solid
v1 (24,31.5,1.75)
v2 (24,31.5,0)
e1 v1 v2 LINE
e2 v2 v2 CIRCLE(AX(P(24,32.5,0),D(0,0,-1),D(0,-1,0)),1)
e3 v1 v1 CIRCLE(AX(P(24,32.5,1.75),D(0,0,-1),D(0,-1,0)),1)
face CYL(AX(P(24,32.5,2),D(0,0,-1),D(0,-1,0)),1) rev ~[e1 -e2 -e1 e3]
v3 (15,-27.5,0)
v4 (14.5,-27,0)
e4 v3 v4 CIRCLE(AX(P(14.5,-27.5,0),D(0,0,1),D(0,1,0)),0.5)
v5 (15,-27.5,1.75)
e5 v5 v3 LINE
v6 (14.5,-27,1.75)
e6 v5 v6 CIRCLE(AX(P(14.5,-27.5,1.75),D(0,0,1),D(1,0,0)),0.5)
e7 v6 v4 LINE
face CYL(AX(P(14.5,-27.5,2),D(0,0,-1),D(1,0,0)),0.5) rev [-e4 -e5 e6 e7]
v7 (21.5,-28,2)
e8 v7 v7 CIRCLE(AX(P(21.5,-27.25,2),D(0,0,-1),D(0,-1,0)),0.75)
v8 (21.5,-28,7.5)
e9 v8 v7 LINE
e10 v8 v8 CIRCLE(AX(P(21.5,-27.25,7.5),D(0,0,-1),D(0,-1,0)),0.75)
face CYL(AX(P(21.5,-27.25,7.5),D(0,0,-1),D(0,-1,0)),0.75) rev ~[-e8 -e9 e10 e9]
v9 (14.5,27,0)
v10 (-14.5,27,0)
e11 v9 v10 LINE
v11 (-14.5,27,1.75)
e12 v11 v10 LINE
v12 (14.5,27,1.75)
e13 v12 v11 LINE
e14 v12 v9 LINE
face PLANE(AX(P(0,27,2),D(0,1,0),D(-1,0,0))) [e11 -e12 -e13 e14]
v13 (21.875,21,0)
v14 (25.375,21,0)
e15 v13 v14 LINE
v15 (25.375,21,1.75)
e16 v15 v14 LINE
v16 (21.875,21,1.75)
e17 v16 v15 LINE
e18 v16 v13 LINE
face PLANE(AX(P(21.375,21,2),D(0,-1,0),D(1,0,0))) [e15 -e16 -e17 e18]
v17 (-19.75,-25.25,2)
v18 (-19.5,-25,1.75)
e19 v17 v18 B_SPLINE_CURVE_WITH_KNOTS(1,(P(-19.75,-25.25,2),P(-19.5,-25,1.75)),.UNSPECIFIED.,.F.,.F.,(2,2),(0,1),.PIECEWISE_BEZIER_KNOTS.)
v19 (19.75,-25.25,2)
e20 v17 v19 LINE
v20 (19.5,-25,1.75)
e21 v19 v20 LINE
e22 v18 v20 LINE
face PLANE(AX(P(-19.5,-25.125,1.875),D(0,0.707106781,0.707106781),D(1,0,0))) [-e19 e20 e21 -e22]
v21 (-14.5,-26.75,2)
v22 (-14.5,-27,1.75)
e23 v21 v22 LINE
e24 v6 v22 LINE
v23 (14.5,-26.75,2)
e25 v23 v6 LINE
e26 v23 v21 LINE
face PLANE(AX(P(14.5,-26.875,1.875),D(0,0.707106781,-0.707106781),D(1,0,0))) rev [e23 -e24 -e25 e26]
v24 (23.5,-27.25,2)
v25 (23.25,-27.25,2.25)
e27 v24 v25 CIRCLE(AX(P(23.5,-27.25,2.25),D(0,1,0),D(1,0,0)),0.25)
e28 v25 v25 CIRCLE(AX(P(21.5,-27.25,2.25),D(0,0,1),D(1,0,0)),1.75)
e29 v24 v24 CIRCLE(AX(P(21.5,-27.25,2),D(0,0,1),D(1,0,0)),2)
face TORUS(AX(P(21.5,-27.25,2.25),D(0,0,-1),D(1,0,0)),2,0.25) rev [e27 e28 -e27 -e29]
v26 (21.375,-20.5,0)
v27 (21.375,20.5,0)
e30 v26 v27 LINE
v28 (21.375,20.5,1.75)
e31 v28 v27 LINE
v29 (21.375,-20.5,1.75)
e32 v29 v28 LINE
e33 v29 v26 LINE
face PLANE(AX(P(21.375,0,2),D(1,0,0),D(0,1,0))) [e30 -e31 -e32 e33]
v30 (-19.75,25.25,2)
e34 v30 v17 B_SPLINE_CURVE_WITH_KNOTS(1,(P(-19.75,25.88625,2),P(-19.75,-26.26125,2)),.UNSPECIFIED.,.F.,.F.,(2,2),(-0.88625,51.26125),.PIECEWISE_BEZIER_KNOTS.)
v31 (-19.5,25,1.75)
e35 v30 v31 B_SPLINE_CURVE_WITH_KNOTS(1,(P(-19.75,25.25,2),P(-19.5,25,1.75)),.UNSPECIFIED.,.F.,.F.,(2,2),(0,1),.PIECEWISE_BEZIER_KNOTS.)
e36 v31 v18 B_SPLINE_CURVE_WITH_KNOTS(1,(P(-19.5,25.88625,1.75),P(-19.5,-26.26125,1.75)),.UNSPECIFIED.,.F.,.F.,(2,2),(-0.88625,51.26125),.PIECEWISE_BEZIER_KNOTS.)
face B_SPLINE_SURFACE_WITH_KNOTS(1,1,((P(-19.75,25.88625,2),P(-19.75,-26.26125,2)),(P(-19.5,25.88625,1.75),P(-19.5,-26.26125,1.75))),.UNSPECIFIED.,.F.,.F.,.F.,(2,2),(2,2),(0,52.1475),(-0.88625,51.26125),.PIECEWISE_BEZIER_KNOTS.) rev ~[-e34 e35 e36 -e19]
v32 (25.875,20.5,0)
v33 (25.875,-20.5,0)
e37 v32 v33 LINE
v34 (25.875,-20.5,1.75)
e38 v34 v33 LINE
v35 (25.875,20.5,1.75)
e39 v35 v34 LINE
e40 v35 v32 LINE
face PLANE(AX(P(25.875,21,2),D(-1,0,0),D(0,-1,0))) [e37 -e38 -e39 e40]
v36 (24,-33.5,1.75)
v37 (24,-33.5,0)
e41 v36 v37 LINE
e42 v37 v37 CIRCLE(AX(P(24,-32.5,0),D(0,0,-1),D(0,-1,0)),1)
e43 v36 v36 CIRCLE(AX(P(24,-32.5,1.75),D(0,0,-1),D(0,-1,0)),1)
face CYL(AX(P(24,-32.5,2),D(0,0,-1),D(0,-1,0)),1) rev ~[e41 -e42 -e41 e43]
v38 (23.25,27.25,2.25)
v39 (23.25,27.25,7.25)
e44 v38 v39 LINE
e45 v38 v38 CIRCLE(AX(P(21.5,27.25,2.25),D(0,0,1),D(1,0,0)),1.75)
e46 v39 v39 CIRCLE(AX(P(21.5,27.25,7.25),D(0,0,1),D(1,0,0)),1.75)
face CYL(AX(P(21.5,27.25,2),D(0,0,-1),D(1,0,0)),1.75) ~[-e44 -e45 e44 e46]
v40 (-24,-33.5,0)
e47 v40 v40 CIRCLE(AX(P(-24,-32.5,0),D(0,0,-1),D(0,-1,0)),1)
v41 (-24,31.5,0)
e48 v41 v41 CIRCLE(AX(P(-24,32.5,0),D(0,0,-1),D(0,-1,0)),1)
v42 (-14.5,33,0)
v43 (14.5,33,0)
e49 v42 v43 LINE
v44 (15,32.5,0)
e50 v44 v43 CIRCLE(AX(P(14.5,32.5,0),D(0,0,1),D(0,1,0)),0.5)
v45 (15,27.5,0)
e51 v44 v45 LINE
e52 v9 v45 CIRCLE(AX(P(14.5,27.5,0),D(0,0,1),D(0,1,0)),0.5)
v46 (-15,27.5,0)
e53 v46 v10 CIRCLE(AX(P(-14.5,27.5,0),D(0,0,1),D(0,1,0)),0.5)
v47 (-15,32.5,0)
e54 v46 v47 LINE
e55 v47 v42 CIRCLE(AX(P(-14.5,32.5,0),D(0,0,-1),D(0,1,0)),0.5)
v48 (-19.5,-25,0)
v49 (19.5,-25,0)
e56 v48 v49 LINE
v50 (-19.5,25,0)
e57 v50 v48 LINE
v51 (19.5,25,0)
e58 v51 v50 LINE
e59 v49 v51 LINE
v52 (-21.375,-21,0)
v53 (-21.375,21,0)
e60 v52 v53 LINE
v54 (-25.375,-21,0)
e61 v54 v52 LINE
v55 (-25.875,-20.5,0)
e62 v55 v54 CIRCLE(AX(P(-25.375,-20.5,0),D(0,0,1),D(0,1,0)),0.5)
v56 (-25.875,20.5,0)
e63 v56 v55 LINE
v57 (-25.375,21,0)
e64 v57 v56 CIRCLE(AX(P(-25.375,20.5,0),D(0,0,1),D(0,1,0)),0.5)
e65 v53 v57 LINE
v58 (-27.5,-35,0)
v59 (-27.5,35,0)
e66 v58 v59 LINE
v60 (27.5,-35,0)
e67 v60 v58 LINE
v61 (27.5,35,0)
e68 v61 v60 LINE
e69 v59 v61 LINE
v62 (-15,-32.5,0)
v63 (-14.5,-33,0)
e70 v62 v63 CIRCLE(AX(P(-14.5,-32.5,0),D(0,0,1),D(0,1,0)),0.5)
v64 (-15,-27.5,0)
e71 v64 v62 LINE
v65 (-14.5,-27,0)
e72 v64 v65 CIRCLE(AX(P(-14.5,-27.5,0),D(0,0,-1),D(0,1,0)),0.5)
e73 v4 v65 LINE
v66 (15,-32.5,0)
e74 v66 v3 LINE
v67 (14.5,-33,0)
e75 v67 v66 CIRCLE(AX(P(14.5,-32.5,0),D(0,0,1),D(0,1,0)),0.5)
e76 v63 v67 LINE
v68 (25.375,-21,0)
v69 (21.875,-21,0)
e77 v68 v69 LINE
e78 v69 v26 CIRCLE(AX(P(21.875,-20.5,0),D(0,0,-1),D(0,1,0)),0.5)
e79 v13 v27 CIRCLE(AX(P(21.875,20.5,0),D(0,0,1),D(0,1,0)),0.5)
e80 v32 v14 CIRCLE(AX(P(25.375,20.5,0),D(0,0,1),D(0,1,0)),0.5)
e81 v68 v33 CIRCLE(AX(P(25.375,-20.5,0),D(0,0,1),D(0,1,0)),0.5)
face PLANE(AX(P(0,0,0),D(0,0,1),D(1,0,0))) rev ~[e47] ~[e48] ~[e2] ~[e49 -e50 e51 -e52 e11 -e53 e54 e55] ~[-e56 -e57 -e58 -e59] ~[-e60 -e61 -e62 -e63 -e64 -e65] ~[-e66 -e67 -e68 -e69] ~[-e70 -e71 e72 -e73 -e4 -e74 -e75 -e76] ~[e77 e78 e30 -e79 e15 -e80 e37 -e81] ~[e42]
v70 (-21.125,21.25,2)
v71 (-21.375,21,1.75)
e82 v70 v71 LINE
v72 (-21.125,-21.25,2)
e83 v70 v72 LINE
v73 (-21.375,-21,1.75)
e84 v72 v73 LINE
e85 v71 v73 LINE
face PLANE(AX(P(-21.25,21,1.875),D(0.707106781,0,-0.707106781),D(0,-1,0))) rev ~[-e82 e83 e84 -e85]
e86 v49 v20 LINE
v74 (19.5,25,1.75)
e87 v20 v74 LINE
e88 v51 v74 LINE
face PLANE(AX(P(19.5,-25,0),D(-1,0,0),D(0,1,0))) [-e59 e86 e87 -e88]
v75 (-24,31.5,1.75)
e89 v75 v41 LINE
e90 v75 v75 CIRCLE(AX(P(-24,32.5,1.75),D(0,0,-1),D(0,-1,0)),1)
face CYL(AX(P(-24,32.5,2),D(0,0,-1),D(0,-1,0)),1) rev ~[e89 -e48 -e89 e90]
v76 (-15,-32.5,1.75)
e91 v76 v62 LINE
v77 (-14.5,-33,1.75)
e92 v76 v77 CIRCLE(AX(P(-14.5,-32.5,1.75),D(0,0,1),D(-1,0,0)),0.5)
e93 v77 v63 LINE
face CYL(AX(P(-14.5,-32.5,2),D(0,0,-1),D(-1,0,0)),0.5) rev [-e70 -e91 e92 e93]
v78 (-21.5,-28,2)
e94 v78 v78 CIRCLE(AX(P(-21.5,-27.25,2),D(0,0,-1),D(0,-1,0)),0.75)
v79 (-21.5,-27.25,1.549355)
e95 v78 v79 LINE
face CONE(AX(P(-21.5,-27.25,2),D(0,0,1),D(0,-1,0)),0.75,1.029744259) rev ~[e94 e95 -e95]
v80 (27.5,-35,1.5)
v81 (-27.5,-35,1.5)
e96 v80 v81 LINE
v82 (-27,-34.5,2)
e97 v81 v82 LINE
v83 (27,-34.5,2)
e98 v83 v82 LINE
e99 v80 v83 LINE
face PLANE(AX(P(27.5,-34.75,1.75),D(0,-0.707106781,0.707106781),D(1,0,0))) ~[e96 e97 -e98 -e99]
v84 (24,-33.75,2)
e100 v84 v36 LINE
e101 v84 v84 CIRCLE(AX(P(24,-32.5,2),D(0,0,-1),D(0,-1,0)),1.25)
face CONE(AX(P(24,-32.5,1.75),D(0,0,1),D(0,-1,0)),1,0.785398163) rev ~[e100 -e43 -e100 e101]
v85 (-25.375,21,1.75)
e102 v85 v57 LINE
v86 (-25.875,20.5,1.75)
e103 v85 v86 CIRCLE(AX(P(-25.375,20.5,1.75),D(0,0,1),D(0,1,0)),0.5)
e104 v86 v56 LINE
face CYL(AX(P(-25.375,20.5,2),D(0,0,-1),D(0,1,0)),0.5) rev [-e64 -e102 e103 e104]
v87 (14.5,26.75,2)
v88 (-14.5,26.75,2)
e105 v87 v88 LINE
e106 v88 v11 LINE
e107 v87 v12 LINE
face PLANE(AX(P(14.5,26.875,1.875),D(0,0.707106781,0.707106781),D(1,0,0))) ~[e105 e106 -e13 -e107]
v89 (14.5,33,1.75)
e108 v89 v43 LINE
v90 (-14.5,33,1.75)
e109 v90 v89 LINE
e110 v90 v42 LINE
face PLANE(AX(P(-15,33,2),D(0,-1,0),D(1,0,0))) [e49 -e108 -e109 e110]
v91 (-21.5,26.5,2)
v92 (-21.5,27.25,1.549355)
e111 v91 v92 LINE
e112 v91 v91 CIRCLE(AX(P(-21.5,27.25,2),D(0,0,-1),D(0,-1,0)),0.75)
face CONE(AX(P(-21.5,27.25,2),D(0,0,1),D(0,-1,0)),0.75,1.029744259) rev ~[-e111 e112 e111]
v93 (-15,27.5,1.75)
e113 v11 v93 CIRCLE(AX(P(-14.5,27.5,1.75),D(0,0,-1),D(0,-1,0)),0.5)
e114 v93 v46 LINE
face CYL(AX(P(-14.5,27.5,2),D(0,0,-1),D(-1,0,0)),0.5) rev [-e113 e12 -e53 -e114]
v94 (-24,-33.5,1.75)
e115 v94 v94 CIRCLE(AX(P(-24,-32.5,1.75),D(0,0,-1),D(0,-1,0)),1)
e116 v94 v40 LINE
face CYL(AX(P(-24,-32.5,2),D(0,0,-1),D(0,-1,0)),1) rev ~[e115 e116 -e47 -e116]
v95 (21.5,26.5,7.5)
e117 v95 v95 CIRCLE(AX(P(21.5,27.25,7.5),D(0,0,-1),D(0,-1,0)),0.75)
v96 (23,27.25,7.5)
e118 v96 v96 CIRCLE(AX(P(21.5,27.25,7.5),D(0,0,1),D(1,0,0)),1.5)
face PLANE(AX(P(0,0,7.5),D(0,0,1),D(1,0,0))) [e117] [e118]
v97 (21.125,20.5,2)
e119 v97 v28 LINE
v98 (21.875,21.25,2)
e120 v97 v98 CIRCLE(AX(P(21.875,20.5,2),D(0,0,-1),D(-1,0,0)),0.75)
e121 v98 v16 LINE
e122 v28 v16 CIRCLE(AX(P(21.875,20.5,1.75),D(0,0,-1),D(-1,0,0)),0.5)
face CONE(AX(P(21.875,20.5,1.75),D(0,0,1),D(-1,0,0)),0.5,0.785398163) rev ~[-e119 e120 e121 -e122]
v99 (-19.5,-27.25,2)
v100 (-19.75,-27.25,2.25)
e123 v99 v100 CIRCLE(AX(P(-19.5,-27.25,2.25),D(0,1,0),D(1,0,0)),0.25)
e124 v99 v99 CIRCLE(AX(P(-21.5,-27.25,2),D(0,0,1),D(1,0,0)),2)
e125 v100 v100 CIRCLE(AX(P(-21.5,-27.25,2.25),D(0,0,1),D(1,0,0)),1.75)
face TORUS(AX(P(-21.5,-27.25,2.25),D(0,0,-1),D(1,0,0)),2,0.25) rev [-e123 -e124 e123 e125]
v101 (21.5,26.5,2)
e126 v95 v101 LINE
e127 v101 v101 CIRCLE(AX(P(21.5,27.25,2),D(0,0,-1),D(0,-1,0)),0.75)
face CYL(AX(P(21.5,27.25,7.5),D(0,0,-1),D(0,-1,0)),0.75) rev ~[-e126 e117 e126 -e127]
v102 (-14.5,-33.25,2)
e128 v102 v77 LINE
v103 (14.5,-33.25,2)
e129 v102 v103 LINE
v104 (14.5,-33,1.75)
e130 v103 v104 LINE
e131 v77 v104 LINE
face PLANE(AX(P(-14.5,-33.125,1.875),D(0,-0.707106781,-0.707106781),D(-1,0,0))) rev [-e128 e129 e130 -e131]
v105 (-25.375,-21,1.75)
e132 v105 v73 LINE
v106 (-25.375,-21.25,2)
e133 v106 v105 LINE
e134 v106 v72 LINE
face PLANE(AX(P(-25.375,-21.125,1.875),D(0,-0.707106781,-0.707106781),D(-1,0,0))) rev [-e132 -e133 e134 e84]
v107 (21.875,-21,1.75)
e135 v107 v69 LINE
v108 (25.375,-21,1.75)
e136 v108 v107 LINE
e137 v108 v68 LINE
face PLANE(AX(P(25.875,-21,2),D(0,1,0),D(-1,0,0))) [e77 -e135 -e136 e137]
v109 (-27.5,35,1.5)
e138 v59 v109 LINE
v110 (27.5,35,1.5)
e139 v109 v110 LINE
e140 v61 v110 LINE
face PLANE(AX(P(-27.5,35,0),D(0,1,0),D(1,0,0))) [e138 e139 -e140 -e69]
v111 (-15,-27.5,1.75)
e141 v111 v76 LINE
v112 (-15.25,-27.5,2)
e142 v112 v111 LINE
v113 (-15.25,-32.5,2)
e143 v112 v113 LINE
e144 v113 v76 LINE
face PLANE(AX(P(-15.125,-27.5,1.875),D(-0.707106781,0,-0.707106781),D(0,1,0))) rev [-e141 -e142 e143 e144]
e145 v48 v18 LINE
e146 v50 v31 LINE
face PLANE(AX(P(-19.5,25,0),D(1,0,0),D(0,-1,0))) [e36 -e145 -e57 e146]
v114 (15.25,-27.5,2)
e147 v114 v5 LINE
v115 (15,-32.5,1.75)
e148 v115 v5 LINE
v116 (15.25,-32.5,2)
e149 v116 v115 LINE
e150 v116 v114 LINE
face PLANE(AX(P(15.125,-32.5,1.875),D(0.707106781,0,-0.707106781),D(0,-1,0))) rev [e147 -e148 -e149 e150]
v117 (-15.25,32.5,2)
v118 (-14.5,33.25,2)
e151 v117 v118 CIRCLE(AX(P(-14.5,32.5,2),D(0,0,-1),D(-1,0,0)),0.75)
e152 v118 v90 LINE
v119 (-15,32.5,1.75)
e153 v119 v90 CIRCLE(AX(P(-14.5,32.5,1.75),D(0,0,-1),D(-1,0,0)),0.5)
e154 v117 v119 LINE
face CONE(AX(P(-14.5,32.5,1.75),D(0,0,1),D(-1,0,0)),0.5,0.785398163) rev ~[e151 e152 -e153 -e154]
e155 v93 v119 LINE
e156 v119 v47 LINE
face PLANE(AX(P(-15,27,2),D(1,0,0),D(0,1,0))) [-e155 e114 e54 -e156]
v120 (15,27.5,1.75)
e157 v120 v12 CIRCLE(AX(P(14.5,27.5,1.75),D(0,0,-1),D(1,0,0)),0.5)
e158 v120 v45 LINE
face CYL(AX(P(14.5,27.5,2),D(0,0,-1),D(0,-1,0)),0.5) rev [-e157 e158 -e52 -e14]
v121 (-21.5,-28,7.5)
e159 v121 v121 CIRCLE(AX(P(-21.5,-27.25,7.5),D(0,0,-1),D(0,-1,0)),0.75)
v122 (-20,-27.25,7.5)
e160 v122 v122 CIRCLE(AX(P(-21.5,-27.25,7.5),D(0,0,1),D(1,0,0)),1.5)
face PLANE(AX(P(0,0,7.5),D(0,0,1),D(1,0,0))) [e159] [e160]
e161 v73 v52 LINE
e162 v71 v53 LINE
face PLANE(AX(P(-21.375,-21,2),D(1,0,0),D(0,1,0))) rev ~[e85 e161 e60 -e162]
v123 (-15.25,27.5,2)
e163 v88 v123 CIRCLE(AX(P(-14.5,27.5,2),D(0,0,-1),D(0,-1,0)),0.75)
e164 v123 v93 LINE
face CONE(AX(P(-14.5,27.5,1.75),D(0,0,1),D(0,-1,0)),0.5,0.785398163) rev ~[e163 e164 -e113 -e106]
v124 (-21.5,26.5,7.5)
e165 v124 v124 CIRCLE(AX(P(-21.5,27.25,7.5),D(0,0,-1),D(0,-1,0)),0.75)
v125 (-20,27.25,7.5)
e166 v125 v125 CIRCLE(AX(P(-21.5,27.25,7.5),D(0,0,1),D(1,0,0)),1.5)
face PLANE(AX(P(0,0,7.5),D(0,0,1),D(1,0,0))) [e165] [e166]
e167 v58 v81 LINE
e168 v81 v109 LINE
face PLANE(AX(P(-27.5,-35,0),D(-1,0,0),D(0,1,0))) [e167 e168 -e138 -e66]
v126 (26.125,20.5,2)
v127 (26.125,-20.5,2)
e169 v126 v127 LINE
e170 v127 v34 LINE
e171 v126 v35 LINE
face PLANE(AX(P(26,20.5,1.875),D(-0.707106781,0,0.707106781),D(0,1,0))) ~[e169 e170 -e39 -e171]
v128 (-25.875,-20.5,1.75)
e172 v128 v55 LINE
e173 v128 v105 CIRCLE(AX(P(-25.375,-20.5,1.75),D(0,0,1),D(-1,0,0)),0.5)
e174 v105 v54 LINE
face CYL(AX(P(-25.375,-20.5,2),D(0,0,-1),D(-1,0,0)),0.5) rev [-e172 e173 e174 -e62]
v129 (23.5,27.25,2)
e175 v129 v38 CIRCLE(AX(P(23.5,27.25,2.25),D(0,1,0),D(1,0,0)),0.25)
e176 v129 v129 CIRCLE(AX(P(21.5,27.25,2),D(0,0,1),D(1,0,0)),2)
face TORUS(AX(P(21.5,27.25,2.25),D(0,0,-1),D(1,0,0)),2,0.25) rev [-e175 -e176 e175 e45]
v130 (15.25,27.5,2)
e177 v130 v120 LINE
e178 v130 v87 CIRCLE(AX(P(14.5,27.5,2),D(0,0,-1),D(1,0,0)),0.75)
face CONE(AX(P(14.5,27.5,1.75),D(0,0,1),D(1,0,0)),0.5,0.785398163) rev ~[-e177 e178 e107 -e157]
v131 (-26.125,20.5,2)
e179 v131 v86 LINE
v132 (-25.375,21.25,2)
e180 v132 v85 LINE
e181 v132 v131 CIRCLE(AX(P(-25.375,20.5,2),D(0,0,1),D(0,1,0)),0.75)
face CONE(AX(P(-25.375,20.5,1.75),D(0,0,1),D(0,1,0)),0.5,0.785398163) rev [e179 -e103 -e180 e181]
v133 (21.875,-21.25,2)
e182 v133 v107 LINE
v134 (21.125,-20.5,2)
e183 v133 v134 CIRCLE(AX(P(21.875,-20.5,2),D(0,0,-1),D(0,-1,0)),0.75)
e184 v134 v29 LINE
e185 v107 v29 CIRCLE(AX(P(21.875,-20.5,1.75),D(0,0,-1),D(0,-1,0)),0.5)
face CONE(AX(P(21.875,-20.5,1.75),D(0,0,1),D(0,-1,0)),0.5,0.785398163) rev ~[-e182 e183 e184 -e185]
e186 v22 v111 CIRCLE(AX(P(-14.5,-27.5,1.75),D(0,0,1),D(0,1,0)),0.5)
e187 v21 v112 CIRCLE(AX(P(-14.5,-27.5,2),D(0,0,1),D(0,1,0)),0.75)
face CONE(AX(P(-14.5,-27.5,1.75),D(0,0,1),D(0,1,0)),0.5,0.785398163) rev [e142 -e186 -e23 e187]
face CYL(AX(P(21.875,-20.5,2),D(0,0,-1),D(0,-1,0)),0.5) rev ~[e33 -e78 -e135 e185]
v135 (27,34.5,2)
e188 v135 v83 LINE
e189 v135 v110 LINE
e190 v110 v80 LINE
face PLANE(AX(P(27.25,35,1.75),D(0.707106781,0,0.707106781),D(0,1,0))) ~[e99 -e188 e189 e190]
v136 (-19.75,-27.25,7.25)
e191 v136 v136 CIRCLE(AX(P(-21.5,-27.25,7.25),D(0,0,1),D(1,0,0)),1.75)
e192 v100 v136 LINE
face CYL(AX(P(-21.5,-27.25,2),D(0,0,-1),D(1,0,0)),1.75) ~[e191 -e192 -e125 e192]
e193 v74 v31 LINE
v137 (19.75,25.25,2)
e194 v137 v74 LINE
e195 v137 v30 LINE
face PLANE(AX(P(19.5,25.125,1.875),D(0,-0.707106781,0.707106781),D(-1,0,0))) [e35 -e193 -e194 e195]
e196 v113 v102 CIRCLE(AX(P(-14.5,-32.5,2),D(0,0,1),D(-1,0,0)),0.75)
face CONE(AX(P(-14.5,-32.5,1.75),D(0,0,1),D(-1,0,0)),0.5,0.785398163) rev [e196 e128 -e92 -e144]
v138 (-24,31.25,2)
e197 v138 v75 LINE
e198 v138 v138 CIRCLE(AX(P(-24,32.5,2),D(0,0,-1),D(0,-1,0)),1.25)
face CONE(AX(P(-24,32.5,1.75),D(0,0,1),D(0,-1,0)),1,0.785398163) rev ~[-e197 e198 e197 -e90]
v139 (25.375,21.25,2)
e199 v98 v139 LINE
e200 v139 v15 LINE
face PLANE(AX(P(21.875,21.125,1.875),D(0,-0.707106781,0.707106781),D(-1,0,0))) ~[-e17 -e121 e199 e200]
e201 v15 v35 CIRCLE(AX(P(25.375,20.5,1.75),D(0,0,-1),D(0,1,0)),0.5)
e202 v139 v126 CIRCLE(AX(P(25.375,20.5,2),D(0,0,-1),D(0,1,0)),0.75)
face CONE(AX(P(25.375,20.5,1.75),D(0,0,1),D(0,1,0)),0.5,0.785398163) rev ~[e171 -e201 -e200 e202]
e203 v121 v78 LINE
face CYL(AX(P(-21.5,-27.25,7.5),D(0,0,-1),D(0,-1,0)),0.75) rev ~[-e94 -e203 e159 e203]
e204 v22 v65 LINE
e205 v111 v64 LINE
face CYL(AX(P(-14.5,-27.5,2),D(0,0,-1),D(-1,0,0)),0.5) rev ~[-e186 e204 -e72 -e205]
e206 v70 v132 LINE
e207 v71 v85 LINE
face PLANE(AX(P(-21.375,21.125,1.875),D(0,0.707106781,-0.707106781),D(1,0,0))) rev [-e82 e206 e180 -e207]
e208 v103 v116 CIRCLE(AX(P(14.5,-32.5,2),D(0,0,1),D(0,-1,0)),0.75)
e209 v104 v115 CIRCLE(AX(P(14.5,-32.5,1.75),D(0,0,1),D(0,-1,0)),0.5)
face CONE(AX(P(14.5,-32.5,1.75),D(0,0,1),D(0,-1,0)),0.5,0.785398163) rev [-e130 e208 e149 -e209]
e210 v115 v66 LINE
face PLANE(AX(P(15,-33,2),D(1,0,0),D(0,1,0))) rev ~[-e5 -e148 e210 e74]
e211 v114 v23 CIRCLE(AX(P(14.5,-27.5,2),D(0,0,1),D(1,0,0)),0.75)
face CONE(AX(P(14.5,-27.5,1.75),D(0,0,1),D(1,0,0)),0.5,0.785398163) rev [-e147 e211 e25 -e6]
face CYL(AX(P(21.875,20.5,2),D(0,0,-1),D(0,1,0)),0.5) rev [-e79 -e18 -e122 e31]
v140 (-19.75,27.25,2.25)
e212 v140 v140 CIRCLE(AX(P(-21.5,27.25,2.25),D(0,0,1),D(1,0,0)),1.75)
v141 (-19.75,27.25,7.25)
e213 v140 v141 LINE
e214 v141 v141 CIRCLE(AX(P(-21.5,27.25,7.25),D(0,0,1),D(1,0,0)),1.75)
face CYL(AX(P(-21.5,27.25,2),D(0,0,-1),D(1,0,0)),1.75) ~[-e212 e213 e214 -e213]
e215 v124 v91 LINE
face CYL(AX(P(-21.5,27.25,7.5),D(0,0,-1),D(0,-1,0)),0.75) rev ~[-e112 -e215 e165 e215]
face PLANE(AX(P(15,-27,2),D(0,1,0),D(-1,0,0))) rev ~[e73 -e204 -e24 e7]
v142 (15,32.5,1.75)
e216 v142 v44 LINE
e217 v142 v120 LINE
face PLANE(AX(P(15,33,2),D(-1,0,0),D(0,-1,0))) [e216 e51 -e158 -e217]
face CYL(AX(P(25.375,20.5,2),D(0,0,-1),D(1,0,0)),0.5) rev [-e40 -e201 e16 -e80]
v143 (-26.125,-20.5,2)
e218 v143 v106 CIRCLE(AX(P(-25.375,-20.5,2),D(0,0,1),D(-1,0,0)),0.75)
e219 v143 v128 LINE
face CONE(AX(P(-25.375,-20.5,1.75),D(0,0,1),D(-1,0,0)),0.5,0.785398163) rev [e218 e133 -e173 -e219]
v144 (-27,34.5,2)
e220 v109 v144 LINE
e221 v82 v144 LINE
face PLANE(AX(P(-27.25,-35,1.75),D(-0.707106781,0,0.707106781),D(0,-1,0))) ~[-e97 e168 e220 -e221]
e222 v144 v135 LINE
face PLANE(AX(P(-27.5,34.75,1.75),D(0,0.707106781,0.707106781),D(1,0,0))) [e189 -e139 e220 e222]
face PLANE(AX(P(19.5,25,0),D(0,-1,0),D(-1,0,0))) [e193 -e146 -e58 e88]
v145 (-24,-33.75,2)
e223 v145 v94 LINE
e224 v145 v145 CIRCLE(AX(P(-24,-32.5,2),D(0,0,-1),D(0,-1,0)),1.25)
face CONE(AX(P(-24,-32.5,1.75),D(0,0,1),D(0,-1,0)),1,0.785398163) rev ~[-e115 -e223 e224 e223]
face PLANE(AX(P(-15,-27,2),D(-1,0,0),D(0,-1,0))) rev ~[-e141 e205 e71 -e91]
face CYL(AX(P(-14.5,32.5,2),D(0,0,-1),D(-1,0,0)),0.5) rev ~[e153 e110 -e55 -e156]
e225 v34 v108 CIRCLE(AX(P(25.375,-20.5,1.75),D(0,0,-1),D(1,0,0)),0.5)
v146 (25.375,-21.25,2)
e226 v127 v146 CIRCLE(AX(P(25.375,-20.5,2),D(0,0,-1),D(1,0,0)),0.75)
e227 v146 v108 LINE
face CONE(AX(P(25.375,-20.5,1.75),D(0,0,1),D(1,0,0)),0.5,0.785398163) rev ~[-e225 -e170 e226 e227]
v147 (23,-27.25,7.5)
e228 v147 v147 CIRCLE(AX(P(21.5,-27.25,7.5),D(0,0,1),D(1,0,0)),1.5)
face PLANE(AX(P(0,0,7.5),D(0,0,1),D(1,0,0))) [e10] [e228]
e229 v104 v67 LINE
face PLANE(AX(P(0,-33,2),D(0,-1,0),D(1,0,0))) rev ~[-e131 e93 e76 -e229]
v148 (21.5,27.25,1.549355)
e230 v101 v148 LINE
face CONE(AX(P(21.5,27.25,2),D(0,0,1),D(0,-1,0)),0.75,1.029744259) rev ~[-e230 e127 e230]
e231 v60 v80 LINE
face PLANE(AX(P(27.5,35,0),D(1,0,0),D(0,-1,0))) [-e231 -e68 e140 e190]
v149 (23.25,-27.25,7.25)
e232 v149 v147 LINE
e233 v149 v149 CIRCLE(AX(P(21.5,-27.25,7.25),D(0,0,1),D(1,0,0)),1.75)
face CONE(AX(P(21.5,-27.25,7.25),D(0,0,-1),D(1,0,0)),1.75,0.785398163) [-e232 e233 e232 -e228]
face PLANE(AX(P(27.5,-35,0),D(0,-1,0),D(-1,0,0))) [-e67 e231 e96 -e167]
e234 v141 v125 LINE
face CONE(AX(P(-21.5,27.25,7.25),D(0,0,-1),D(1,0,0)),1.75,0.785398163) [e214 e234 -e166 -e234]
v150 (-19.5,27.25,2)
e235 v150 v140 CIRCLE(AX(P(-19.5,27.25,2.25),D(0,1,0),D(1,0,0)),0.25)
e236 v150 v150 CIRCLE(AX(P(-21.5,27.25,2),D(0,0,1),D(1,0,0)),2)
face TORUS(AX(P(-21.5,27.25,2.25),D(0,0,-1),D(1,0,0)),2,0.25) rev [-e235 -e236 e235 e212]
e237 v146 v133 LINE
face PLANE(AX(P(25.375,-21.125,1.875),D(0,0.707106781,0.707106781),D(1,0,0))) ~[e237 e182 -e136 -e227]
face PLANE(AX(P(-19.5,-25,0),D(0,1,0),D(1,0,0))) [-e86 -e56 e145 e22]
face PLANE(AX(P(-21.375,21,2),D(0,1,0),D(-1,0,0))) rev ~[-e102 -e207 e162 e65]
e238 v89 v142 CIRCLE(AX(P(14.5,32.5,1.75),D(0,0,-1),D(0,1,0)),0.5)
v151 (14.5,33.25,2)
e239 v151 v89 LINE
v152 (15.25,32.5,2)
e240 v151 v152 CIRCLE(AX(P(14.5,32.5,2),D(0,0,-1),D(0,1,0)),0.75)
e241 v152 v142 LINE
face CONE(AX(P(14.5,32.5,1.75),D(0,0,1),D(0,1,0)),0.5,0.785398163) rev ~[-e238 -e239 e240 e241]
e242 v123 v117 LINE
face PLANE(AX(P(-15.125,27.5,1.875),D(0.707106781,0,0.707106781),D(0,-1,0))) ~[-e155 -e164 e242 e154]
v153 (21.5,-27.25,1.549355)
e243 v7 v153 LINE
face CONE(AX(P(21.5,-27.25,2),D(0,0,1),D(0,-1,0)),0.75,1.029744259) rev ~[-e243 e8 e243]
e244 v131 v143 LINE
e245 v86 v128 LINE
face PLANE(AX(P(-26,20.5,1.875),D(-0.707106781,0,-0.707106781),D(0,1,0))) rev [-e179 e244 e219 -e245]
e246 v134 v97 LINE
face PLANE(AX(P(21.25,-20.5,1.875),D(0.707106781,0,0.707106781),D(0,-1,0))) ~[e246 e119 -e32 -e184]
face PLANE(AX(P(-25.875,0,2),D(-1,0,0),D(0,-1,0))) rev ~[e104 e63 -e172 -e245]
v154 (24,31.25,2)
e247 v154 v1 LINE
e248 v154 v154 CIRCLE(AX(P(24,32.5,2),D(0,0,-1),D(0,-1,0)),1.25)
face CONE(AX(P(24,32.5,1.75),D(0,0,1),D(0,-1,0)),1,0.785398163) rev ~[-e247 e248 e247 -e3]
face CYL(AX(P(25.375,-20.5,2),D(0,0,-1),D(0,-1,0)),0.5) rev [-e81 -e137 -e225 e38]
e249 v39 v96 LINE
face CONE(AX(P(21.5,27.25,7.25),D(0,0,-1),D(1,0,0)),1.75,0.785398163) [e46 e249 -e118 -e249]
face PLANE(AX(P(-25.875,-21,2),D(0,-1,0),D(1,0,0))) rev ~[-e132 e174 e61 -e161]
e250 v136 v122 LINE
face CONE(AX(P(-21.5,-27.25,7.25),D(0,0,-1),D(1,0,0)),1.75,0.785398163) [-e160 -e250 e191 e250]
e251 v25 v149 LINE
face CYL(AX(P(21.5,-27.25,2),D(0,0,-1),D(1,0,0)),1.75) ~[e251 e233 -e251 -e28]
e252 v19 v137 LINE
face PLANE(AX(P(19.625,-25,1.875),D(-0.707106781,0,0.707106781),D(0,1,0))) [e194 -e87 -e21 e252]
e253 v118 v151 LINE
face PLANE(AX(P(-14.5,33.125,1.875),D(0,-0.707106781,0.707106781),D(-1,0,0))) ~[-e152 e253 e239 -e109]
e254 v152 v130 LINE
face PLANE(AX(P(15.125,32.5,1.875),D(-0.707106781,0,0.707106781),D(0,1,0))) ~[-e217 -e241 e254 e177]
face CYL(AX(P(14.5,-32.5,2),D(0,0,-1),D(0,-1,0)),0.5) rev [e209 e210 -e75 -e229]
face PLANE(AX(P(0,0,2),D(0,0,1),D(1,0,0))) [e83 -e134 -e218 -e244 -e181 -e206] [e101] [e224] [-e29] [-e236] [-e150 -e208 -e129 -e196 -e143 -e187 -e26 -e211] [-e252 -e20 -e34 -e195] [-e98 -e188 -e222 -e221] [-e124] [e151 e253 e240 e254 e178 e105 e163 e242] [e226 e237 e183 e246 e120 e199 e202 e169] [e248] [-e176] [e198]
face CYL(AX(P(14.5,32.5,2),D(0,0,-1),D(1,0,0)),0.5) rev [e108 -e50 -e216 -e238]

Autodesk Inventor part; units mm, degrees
ref_plane "YZ Plane" through (0, 0, 0) normal (1, 0, 0) x (0, 1, 0)
ref_plane "XZ Plane" through (0, 0, 0) normal (0, 1, 0) x (-1, 0, 0)
ref_plane "XY Plane" through (0, 0, 0) normal (0, 0, 1) x (1, 0, 0)
sketch "Skizze1" plane through (0, 0, 0) normal (0, 0, 1) x (1, 0, 0)
  line L0 (27.5, -35) -> (-27.5, -35)
  line L1 (-27.5, -35) -> (-27.5, 35)
  line L2 (-27.5, 35) -> (27.5, 35)
  line L3 (27.5, 35) -> (27.5, -35)
  line L4 (27.5, -35) -> (-27.5, 35) construction
  line L5 (-27.5, -35) -> (27.5, 35) construction
  line L6 (-19.5, -25) -> (19.5, -25)
  line L7 (19.5, -25) -> (19.5, 25)
  line L8 (19.5, 25) -> (-19.5, 25)
  line L9 (-19.5, 25) -> (-19.5, -25)
  line L10 (-19.5, -25) -> (19.5, 25) construction
  line L11 (19.5, -25) -> (-19.5, 25) construction
  point P0 (0, 0)
  dimension "d0" = 55
  dimension "d1" = 70
  dimension "d32" = 39
  dimension "d33" = 50
extrude "Extrusion1" add sketch "Skizze1" along normal blind 2
sketch "Skizze2" plane through (0, 0, 2) normal (0, 0, 1) x (1, 0, 0)
  circle A0 centre (-21.5, 27.25) radius 1.75
  line L0 (0, -49) -> (0, 49) projected
  line L1 (-38.5, 0) -> (38.5, 0) projected
  circle A1 centre (-21.5, -27.25) radius 1.75
  circle A2 centre (21.5, 27.25) radius 1.75
  circle A3 centre (21.5, -27.25) radius 1.75
  point P0 (0, 0)
  dimension "d4" = 3.5
  dimension "d5" = 21.5
  dimension "d6" = 27.25
  dimension "d9" = 54.5
  dimension "d12" = 43
extrude "Extrusion2" add sketch "Skizze2" along normal blind 5.5
sketch "Skizze3" plane through (-21.5, 27.25, 7.5) normal (0, 0, 1) x (1, 0, 0)
  circle A0 centre (0, 0) radius 1.75 projected
  line L0 (-17, -27.25) -> (60, -27.25) projected
  line L1 (21.5, -76.25) -> (21.5, 21.75) projected
  point P0 (21.5, -27.25)
  point P1 (0, -54.5)
  point P2 (43, 0)
  point P3 (43, -54.5)
  dimension "d19" = 54.5
  dimension "d22" = 43
hole "Bohrung1" at (-21.5, 27.25, 7.5) at (-21.5, -27.25, 7.5) at (21.5, 27.25, 7.5) at (21.5, -27.25, 7.5) direction (0, 0, -1) diameter 1.5 depth 5.5 tip angle 118
sketch "Skizze4" plane through (0, 0, 2) normal (0, 0, 1) x (1, 0, 0)
  line L0 (0, -49) -> (0, 49) projected
  line L1 (-38.5, 0) -> (38.5, 0) projected
  point P0 (0, 0)
  point P1 (-24, 32.5)
  point P2 (-24, -32.5)
  point P3 (24, 32.5)
  point P4 (24, -32.5)
  dimension "d34" = 24
  dimension "d35" = 32.5
  dimension "d38" = 65
  dimension "d41" = 48
hole "Bohrung2" at (-24, 32.5, 2) at (-24, -32.5, 2) at (24, 32.5, 2) at (24, -32.5, 2) direction (0, 0, -1) diameter 2 depth 5.5 tip angle 118
chamfer "Fasen1" distance 0.5 angle 45 4 edges at (-27.5, 0, 2) (0, 35, 2) (27.5, 0, 2) (0, -35, 2)
chamfer "Fasen2" distance 0.25 angle 45 12 edges at (0, 25, 2) (-19.5, 0, 2) (0, -25, 2) (19.5, 0, 2) (19.75, 27.25, 7.5) (-23.25, 27.25, 7.5) (-23.25, -27.25, 7.5) (19.75, -27.25, 7.5) (-24, -31.5, 2) (24, -31.5, 2) (-24, 33.5, 2) (24, 33.5, 2)
sketch "Skizze5" plane through (0, 0, 2) normal (0, 0, 1) x (1, 0, 0)
  line L0 (-15, 33) -> (15, 33)
  line L1 (15, 33) -> (15, 27)
  line L2 (15, 27) -> (-15, 27)
  line L3 (-15, 27) -> (-15, 33)
  line L4 (-15, 33) -> (15, 27) construction
  line L5 (15, 33) -> (-15, 27) construction
  line L6 (-19.5, 25) -> (19.5, 25) projected
  line L7 (-38.5, 0) -> (38.5, 0) projected
  line L8 (0, -49) -> (0, 49) projected
  line L9 (-15, -33) -> (15, -33)
  line L10 (15, -33) -> (15, -27)
  line L11 (15, -27) -> (-15, -27)
  line L12 (-15, -27) -> (-15, -33)
  line L13 (25.875, -21) -> (21.375, -21)
  line L14 (21.375, -21) -> (21.375, 21)
  line L15 (21.375, 21) -> (25.875, 21)
  line L16 (25.875, 21) -> (25.875, -21)
  line L17 (25.875, -21) -> (21.375, 21) construction
  line L18 (21.375, -21) -> (25.875, 21) construction
  line L19 (27.5, -35) -> (27.5, 35) projected
  line L20 (-25.875, -21) -> (-21.375, -21)
  line L21 (-21.375, -21) -> (-21.375, 21)
  line L22 (-21.375, 21) -> (-25.875, 21)
  line L23 (-25.875, 21) -> (-25.875, -21)
  point P0 (0, 0)
  point P1 (0, 30)
  point P2 (23.625, 0)
  dimension "d57" = 5
  dimension "d58" = 30
  dimension "d59" = 6
  dimension "d60" = 3.875
  dimension "d61" = 4.5
  dimension "d62" = 42
extrude "Extrusion3" cut sketch "Skizze5" against normal through all
fillet "Rundung1" radius 0.5 14 edges at (15, 33, 1) (15, 27, 1) (25.875, 21, 1) (15, -27, 1) (-15, 33, 1) (-25.875, 21, 1) (21.375, 21, 1) (-15, 27, 1) (-25.875, -21, 1) (25.875, -21, 1) (15, -33, 1) (21.375, -21, 1) (-15, -27, 1) (-15, -33, 1)
chamfer "Fasen3" distance 0.25 angle 45 14 edges at (0, -33, 2) (-14.8536, -32.8536, 2) (-15, -30, 2) (-14.8536, -27.1464, 2) (0, -27, 2) (14.8536, -27.1464, 2) (15, -30, 2) (14.8536, -32.8536, 2) (-25.875, 0, 2) (-25.7286, 20.8536, 2) (-23.375, 21, 2) (-25.7286, -20.8536, 2) (-23.375, -21, 2) (-21.375, 0, 2)
chamfer "Fasen4" distance 0.25 angle 45 16 edges at (21.375, 0, 2) (21.5214, 20.8536, 2) (23.625, 21, 2) (25.7286, 20.8536, 2) (25.875, 0, 2) (25.7286, -20.8536, 2) (23.625, -21, 2) (21.5214, -20.8536, 2) (-15, 30, 2) (-14.8536, 32.8536, 2) (0, 33, 2) (14.8536, 32.8536, 2) (15, 30, 2) (14.8536, 27.1464, 2) (0, 27, 2) (-14.8536, 27.1464, 2)
fillet "Rundung2" radius 0.25 4 edges at (19.75, 27.25, 2) (-23.25, 27.25, 2) (-23.25, -27.25, 2) (19.75, -27.25, 2)
properties part number "Base"
